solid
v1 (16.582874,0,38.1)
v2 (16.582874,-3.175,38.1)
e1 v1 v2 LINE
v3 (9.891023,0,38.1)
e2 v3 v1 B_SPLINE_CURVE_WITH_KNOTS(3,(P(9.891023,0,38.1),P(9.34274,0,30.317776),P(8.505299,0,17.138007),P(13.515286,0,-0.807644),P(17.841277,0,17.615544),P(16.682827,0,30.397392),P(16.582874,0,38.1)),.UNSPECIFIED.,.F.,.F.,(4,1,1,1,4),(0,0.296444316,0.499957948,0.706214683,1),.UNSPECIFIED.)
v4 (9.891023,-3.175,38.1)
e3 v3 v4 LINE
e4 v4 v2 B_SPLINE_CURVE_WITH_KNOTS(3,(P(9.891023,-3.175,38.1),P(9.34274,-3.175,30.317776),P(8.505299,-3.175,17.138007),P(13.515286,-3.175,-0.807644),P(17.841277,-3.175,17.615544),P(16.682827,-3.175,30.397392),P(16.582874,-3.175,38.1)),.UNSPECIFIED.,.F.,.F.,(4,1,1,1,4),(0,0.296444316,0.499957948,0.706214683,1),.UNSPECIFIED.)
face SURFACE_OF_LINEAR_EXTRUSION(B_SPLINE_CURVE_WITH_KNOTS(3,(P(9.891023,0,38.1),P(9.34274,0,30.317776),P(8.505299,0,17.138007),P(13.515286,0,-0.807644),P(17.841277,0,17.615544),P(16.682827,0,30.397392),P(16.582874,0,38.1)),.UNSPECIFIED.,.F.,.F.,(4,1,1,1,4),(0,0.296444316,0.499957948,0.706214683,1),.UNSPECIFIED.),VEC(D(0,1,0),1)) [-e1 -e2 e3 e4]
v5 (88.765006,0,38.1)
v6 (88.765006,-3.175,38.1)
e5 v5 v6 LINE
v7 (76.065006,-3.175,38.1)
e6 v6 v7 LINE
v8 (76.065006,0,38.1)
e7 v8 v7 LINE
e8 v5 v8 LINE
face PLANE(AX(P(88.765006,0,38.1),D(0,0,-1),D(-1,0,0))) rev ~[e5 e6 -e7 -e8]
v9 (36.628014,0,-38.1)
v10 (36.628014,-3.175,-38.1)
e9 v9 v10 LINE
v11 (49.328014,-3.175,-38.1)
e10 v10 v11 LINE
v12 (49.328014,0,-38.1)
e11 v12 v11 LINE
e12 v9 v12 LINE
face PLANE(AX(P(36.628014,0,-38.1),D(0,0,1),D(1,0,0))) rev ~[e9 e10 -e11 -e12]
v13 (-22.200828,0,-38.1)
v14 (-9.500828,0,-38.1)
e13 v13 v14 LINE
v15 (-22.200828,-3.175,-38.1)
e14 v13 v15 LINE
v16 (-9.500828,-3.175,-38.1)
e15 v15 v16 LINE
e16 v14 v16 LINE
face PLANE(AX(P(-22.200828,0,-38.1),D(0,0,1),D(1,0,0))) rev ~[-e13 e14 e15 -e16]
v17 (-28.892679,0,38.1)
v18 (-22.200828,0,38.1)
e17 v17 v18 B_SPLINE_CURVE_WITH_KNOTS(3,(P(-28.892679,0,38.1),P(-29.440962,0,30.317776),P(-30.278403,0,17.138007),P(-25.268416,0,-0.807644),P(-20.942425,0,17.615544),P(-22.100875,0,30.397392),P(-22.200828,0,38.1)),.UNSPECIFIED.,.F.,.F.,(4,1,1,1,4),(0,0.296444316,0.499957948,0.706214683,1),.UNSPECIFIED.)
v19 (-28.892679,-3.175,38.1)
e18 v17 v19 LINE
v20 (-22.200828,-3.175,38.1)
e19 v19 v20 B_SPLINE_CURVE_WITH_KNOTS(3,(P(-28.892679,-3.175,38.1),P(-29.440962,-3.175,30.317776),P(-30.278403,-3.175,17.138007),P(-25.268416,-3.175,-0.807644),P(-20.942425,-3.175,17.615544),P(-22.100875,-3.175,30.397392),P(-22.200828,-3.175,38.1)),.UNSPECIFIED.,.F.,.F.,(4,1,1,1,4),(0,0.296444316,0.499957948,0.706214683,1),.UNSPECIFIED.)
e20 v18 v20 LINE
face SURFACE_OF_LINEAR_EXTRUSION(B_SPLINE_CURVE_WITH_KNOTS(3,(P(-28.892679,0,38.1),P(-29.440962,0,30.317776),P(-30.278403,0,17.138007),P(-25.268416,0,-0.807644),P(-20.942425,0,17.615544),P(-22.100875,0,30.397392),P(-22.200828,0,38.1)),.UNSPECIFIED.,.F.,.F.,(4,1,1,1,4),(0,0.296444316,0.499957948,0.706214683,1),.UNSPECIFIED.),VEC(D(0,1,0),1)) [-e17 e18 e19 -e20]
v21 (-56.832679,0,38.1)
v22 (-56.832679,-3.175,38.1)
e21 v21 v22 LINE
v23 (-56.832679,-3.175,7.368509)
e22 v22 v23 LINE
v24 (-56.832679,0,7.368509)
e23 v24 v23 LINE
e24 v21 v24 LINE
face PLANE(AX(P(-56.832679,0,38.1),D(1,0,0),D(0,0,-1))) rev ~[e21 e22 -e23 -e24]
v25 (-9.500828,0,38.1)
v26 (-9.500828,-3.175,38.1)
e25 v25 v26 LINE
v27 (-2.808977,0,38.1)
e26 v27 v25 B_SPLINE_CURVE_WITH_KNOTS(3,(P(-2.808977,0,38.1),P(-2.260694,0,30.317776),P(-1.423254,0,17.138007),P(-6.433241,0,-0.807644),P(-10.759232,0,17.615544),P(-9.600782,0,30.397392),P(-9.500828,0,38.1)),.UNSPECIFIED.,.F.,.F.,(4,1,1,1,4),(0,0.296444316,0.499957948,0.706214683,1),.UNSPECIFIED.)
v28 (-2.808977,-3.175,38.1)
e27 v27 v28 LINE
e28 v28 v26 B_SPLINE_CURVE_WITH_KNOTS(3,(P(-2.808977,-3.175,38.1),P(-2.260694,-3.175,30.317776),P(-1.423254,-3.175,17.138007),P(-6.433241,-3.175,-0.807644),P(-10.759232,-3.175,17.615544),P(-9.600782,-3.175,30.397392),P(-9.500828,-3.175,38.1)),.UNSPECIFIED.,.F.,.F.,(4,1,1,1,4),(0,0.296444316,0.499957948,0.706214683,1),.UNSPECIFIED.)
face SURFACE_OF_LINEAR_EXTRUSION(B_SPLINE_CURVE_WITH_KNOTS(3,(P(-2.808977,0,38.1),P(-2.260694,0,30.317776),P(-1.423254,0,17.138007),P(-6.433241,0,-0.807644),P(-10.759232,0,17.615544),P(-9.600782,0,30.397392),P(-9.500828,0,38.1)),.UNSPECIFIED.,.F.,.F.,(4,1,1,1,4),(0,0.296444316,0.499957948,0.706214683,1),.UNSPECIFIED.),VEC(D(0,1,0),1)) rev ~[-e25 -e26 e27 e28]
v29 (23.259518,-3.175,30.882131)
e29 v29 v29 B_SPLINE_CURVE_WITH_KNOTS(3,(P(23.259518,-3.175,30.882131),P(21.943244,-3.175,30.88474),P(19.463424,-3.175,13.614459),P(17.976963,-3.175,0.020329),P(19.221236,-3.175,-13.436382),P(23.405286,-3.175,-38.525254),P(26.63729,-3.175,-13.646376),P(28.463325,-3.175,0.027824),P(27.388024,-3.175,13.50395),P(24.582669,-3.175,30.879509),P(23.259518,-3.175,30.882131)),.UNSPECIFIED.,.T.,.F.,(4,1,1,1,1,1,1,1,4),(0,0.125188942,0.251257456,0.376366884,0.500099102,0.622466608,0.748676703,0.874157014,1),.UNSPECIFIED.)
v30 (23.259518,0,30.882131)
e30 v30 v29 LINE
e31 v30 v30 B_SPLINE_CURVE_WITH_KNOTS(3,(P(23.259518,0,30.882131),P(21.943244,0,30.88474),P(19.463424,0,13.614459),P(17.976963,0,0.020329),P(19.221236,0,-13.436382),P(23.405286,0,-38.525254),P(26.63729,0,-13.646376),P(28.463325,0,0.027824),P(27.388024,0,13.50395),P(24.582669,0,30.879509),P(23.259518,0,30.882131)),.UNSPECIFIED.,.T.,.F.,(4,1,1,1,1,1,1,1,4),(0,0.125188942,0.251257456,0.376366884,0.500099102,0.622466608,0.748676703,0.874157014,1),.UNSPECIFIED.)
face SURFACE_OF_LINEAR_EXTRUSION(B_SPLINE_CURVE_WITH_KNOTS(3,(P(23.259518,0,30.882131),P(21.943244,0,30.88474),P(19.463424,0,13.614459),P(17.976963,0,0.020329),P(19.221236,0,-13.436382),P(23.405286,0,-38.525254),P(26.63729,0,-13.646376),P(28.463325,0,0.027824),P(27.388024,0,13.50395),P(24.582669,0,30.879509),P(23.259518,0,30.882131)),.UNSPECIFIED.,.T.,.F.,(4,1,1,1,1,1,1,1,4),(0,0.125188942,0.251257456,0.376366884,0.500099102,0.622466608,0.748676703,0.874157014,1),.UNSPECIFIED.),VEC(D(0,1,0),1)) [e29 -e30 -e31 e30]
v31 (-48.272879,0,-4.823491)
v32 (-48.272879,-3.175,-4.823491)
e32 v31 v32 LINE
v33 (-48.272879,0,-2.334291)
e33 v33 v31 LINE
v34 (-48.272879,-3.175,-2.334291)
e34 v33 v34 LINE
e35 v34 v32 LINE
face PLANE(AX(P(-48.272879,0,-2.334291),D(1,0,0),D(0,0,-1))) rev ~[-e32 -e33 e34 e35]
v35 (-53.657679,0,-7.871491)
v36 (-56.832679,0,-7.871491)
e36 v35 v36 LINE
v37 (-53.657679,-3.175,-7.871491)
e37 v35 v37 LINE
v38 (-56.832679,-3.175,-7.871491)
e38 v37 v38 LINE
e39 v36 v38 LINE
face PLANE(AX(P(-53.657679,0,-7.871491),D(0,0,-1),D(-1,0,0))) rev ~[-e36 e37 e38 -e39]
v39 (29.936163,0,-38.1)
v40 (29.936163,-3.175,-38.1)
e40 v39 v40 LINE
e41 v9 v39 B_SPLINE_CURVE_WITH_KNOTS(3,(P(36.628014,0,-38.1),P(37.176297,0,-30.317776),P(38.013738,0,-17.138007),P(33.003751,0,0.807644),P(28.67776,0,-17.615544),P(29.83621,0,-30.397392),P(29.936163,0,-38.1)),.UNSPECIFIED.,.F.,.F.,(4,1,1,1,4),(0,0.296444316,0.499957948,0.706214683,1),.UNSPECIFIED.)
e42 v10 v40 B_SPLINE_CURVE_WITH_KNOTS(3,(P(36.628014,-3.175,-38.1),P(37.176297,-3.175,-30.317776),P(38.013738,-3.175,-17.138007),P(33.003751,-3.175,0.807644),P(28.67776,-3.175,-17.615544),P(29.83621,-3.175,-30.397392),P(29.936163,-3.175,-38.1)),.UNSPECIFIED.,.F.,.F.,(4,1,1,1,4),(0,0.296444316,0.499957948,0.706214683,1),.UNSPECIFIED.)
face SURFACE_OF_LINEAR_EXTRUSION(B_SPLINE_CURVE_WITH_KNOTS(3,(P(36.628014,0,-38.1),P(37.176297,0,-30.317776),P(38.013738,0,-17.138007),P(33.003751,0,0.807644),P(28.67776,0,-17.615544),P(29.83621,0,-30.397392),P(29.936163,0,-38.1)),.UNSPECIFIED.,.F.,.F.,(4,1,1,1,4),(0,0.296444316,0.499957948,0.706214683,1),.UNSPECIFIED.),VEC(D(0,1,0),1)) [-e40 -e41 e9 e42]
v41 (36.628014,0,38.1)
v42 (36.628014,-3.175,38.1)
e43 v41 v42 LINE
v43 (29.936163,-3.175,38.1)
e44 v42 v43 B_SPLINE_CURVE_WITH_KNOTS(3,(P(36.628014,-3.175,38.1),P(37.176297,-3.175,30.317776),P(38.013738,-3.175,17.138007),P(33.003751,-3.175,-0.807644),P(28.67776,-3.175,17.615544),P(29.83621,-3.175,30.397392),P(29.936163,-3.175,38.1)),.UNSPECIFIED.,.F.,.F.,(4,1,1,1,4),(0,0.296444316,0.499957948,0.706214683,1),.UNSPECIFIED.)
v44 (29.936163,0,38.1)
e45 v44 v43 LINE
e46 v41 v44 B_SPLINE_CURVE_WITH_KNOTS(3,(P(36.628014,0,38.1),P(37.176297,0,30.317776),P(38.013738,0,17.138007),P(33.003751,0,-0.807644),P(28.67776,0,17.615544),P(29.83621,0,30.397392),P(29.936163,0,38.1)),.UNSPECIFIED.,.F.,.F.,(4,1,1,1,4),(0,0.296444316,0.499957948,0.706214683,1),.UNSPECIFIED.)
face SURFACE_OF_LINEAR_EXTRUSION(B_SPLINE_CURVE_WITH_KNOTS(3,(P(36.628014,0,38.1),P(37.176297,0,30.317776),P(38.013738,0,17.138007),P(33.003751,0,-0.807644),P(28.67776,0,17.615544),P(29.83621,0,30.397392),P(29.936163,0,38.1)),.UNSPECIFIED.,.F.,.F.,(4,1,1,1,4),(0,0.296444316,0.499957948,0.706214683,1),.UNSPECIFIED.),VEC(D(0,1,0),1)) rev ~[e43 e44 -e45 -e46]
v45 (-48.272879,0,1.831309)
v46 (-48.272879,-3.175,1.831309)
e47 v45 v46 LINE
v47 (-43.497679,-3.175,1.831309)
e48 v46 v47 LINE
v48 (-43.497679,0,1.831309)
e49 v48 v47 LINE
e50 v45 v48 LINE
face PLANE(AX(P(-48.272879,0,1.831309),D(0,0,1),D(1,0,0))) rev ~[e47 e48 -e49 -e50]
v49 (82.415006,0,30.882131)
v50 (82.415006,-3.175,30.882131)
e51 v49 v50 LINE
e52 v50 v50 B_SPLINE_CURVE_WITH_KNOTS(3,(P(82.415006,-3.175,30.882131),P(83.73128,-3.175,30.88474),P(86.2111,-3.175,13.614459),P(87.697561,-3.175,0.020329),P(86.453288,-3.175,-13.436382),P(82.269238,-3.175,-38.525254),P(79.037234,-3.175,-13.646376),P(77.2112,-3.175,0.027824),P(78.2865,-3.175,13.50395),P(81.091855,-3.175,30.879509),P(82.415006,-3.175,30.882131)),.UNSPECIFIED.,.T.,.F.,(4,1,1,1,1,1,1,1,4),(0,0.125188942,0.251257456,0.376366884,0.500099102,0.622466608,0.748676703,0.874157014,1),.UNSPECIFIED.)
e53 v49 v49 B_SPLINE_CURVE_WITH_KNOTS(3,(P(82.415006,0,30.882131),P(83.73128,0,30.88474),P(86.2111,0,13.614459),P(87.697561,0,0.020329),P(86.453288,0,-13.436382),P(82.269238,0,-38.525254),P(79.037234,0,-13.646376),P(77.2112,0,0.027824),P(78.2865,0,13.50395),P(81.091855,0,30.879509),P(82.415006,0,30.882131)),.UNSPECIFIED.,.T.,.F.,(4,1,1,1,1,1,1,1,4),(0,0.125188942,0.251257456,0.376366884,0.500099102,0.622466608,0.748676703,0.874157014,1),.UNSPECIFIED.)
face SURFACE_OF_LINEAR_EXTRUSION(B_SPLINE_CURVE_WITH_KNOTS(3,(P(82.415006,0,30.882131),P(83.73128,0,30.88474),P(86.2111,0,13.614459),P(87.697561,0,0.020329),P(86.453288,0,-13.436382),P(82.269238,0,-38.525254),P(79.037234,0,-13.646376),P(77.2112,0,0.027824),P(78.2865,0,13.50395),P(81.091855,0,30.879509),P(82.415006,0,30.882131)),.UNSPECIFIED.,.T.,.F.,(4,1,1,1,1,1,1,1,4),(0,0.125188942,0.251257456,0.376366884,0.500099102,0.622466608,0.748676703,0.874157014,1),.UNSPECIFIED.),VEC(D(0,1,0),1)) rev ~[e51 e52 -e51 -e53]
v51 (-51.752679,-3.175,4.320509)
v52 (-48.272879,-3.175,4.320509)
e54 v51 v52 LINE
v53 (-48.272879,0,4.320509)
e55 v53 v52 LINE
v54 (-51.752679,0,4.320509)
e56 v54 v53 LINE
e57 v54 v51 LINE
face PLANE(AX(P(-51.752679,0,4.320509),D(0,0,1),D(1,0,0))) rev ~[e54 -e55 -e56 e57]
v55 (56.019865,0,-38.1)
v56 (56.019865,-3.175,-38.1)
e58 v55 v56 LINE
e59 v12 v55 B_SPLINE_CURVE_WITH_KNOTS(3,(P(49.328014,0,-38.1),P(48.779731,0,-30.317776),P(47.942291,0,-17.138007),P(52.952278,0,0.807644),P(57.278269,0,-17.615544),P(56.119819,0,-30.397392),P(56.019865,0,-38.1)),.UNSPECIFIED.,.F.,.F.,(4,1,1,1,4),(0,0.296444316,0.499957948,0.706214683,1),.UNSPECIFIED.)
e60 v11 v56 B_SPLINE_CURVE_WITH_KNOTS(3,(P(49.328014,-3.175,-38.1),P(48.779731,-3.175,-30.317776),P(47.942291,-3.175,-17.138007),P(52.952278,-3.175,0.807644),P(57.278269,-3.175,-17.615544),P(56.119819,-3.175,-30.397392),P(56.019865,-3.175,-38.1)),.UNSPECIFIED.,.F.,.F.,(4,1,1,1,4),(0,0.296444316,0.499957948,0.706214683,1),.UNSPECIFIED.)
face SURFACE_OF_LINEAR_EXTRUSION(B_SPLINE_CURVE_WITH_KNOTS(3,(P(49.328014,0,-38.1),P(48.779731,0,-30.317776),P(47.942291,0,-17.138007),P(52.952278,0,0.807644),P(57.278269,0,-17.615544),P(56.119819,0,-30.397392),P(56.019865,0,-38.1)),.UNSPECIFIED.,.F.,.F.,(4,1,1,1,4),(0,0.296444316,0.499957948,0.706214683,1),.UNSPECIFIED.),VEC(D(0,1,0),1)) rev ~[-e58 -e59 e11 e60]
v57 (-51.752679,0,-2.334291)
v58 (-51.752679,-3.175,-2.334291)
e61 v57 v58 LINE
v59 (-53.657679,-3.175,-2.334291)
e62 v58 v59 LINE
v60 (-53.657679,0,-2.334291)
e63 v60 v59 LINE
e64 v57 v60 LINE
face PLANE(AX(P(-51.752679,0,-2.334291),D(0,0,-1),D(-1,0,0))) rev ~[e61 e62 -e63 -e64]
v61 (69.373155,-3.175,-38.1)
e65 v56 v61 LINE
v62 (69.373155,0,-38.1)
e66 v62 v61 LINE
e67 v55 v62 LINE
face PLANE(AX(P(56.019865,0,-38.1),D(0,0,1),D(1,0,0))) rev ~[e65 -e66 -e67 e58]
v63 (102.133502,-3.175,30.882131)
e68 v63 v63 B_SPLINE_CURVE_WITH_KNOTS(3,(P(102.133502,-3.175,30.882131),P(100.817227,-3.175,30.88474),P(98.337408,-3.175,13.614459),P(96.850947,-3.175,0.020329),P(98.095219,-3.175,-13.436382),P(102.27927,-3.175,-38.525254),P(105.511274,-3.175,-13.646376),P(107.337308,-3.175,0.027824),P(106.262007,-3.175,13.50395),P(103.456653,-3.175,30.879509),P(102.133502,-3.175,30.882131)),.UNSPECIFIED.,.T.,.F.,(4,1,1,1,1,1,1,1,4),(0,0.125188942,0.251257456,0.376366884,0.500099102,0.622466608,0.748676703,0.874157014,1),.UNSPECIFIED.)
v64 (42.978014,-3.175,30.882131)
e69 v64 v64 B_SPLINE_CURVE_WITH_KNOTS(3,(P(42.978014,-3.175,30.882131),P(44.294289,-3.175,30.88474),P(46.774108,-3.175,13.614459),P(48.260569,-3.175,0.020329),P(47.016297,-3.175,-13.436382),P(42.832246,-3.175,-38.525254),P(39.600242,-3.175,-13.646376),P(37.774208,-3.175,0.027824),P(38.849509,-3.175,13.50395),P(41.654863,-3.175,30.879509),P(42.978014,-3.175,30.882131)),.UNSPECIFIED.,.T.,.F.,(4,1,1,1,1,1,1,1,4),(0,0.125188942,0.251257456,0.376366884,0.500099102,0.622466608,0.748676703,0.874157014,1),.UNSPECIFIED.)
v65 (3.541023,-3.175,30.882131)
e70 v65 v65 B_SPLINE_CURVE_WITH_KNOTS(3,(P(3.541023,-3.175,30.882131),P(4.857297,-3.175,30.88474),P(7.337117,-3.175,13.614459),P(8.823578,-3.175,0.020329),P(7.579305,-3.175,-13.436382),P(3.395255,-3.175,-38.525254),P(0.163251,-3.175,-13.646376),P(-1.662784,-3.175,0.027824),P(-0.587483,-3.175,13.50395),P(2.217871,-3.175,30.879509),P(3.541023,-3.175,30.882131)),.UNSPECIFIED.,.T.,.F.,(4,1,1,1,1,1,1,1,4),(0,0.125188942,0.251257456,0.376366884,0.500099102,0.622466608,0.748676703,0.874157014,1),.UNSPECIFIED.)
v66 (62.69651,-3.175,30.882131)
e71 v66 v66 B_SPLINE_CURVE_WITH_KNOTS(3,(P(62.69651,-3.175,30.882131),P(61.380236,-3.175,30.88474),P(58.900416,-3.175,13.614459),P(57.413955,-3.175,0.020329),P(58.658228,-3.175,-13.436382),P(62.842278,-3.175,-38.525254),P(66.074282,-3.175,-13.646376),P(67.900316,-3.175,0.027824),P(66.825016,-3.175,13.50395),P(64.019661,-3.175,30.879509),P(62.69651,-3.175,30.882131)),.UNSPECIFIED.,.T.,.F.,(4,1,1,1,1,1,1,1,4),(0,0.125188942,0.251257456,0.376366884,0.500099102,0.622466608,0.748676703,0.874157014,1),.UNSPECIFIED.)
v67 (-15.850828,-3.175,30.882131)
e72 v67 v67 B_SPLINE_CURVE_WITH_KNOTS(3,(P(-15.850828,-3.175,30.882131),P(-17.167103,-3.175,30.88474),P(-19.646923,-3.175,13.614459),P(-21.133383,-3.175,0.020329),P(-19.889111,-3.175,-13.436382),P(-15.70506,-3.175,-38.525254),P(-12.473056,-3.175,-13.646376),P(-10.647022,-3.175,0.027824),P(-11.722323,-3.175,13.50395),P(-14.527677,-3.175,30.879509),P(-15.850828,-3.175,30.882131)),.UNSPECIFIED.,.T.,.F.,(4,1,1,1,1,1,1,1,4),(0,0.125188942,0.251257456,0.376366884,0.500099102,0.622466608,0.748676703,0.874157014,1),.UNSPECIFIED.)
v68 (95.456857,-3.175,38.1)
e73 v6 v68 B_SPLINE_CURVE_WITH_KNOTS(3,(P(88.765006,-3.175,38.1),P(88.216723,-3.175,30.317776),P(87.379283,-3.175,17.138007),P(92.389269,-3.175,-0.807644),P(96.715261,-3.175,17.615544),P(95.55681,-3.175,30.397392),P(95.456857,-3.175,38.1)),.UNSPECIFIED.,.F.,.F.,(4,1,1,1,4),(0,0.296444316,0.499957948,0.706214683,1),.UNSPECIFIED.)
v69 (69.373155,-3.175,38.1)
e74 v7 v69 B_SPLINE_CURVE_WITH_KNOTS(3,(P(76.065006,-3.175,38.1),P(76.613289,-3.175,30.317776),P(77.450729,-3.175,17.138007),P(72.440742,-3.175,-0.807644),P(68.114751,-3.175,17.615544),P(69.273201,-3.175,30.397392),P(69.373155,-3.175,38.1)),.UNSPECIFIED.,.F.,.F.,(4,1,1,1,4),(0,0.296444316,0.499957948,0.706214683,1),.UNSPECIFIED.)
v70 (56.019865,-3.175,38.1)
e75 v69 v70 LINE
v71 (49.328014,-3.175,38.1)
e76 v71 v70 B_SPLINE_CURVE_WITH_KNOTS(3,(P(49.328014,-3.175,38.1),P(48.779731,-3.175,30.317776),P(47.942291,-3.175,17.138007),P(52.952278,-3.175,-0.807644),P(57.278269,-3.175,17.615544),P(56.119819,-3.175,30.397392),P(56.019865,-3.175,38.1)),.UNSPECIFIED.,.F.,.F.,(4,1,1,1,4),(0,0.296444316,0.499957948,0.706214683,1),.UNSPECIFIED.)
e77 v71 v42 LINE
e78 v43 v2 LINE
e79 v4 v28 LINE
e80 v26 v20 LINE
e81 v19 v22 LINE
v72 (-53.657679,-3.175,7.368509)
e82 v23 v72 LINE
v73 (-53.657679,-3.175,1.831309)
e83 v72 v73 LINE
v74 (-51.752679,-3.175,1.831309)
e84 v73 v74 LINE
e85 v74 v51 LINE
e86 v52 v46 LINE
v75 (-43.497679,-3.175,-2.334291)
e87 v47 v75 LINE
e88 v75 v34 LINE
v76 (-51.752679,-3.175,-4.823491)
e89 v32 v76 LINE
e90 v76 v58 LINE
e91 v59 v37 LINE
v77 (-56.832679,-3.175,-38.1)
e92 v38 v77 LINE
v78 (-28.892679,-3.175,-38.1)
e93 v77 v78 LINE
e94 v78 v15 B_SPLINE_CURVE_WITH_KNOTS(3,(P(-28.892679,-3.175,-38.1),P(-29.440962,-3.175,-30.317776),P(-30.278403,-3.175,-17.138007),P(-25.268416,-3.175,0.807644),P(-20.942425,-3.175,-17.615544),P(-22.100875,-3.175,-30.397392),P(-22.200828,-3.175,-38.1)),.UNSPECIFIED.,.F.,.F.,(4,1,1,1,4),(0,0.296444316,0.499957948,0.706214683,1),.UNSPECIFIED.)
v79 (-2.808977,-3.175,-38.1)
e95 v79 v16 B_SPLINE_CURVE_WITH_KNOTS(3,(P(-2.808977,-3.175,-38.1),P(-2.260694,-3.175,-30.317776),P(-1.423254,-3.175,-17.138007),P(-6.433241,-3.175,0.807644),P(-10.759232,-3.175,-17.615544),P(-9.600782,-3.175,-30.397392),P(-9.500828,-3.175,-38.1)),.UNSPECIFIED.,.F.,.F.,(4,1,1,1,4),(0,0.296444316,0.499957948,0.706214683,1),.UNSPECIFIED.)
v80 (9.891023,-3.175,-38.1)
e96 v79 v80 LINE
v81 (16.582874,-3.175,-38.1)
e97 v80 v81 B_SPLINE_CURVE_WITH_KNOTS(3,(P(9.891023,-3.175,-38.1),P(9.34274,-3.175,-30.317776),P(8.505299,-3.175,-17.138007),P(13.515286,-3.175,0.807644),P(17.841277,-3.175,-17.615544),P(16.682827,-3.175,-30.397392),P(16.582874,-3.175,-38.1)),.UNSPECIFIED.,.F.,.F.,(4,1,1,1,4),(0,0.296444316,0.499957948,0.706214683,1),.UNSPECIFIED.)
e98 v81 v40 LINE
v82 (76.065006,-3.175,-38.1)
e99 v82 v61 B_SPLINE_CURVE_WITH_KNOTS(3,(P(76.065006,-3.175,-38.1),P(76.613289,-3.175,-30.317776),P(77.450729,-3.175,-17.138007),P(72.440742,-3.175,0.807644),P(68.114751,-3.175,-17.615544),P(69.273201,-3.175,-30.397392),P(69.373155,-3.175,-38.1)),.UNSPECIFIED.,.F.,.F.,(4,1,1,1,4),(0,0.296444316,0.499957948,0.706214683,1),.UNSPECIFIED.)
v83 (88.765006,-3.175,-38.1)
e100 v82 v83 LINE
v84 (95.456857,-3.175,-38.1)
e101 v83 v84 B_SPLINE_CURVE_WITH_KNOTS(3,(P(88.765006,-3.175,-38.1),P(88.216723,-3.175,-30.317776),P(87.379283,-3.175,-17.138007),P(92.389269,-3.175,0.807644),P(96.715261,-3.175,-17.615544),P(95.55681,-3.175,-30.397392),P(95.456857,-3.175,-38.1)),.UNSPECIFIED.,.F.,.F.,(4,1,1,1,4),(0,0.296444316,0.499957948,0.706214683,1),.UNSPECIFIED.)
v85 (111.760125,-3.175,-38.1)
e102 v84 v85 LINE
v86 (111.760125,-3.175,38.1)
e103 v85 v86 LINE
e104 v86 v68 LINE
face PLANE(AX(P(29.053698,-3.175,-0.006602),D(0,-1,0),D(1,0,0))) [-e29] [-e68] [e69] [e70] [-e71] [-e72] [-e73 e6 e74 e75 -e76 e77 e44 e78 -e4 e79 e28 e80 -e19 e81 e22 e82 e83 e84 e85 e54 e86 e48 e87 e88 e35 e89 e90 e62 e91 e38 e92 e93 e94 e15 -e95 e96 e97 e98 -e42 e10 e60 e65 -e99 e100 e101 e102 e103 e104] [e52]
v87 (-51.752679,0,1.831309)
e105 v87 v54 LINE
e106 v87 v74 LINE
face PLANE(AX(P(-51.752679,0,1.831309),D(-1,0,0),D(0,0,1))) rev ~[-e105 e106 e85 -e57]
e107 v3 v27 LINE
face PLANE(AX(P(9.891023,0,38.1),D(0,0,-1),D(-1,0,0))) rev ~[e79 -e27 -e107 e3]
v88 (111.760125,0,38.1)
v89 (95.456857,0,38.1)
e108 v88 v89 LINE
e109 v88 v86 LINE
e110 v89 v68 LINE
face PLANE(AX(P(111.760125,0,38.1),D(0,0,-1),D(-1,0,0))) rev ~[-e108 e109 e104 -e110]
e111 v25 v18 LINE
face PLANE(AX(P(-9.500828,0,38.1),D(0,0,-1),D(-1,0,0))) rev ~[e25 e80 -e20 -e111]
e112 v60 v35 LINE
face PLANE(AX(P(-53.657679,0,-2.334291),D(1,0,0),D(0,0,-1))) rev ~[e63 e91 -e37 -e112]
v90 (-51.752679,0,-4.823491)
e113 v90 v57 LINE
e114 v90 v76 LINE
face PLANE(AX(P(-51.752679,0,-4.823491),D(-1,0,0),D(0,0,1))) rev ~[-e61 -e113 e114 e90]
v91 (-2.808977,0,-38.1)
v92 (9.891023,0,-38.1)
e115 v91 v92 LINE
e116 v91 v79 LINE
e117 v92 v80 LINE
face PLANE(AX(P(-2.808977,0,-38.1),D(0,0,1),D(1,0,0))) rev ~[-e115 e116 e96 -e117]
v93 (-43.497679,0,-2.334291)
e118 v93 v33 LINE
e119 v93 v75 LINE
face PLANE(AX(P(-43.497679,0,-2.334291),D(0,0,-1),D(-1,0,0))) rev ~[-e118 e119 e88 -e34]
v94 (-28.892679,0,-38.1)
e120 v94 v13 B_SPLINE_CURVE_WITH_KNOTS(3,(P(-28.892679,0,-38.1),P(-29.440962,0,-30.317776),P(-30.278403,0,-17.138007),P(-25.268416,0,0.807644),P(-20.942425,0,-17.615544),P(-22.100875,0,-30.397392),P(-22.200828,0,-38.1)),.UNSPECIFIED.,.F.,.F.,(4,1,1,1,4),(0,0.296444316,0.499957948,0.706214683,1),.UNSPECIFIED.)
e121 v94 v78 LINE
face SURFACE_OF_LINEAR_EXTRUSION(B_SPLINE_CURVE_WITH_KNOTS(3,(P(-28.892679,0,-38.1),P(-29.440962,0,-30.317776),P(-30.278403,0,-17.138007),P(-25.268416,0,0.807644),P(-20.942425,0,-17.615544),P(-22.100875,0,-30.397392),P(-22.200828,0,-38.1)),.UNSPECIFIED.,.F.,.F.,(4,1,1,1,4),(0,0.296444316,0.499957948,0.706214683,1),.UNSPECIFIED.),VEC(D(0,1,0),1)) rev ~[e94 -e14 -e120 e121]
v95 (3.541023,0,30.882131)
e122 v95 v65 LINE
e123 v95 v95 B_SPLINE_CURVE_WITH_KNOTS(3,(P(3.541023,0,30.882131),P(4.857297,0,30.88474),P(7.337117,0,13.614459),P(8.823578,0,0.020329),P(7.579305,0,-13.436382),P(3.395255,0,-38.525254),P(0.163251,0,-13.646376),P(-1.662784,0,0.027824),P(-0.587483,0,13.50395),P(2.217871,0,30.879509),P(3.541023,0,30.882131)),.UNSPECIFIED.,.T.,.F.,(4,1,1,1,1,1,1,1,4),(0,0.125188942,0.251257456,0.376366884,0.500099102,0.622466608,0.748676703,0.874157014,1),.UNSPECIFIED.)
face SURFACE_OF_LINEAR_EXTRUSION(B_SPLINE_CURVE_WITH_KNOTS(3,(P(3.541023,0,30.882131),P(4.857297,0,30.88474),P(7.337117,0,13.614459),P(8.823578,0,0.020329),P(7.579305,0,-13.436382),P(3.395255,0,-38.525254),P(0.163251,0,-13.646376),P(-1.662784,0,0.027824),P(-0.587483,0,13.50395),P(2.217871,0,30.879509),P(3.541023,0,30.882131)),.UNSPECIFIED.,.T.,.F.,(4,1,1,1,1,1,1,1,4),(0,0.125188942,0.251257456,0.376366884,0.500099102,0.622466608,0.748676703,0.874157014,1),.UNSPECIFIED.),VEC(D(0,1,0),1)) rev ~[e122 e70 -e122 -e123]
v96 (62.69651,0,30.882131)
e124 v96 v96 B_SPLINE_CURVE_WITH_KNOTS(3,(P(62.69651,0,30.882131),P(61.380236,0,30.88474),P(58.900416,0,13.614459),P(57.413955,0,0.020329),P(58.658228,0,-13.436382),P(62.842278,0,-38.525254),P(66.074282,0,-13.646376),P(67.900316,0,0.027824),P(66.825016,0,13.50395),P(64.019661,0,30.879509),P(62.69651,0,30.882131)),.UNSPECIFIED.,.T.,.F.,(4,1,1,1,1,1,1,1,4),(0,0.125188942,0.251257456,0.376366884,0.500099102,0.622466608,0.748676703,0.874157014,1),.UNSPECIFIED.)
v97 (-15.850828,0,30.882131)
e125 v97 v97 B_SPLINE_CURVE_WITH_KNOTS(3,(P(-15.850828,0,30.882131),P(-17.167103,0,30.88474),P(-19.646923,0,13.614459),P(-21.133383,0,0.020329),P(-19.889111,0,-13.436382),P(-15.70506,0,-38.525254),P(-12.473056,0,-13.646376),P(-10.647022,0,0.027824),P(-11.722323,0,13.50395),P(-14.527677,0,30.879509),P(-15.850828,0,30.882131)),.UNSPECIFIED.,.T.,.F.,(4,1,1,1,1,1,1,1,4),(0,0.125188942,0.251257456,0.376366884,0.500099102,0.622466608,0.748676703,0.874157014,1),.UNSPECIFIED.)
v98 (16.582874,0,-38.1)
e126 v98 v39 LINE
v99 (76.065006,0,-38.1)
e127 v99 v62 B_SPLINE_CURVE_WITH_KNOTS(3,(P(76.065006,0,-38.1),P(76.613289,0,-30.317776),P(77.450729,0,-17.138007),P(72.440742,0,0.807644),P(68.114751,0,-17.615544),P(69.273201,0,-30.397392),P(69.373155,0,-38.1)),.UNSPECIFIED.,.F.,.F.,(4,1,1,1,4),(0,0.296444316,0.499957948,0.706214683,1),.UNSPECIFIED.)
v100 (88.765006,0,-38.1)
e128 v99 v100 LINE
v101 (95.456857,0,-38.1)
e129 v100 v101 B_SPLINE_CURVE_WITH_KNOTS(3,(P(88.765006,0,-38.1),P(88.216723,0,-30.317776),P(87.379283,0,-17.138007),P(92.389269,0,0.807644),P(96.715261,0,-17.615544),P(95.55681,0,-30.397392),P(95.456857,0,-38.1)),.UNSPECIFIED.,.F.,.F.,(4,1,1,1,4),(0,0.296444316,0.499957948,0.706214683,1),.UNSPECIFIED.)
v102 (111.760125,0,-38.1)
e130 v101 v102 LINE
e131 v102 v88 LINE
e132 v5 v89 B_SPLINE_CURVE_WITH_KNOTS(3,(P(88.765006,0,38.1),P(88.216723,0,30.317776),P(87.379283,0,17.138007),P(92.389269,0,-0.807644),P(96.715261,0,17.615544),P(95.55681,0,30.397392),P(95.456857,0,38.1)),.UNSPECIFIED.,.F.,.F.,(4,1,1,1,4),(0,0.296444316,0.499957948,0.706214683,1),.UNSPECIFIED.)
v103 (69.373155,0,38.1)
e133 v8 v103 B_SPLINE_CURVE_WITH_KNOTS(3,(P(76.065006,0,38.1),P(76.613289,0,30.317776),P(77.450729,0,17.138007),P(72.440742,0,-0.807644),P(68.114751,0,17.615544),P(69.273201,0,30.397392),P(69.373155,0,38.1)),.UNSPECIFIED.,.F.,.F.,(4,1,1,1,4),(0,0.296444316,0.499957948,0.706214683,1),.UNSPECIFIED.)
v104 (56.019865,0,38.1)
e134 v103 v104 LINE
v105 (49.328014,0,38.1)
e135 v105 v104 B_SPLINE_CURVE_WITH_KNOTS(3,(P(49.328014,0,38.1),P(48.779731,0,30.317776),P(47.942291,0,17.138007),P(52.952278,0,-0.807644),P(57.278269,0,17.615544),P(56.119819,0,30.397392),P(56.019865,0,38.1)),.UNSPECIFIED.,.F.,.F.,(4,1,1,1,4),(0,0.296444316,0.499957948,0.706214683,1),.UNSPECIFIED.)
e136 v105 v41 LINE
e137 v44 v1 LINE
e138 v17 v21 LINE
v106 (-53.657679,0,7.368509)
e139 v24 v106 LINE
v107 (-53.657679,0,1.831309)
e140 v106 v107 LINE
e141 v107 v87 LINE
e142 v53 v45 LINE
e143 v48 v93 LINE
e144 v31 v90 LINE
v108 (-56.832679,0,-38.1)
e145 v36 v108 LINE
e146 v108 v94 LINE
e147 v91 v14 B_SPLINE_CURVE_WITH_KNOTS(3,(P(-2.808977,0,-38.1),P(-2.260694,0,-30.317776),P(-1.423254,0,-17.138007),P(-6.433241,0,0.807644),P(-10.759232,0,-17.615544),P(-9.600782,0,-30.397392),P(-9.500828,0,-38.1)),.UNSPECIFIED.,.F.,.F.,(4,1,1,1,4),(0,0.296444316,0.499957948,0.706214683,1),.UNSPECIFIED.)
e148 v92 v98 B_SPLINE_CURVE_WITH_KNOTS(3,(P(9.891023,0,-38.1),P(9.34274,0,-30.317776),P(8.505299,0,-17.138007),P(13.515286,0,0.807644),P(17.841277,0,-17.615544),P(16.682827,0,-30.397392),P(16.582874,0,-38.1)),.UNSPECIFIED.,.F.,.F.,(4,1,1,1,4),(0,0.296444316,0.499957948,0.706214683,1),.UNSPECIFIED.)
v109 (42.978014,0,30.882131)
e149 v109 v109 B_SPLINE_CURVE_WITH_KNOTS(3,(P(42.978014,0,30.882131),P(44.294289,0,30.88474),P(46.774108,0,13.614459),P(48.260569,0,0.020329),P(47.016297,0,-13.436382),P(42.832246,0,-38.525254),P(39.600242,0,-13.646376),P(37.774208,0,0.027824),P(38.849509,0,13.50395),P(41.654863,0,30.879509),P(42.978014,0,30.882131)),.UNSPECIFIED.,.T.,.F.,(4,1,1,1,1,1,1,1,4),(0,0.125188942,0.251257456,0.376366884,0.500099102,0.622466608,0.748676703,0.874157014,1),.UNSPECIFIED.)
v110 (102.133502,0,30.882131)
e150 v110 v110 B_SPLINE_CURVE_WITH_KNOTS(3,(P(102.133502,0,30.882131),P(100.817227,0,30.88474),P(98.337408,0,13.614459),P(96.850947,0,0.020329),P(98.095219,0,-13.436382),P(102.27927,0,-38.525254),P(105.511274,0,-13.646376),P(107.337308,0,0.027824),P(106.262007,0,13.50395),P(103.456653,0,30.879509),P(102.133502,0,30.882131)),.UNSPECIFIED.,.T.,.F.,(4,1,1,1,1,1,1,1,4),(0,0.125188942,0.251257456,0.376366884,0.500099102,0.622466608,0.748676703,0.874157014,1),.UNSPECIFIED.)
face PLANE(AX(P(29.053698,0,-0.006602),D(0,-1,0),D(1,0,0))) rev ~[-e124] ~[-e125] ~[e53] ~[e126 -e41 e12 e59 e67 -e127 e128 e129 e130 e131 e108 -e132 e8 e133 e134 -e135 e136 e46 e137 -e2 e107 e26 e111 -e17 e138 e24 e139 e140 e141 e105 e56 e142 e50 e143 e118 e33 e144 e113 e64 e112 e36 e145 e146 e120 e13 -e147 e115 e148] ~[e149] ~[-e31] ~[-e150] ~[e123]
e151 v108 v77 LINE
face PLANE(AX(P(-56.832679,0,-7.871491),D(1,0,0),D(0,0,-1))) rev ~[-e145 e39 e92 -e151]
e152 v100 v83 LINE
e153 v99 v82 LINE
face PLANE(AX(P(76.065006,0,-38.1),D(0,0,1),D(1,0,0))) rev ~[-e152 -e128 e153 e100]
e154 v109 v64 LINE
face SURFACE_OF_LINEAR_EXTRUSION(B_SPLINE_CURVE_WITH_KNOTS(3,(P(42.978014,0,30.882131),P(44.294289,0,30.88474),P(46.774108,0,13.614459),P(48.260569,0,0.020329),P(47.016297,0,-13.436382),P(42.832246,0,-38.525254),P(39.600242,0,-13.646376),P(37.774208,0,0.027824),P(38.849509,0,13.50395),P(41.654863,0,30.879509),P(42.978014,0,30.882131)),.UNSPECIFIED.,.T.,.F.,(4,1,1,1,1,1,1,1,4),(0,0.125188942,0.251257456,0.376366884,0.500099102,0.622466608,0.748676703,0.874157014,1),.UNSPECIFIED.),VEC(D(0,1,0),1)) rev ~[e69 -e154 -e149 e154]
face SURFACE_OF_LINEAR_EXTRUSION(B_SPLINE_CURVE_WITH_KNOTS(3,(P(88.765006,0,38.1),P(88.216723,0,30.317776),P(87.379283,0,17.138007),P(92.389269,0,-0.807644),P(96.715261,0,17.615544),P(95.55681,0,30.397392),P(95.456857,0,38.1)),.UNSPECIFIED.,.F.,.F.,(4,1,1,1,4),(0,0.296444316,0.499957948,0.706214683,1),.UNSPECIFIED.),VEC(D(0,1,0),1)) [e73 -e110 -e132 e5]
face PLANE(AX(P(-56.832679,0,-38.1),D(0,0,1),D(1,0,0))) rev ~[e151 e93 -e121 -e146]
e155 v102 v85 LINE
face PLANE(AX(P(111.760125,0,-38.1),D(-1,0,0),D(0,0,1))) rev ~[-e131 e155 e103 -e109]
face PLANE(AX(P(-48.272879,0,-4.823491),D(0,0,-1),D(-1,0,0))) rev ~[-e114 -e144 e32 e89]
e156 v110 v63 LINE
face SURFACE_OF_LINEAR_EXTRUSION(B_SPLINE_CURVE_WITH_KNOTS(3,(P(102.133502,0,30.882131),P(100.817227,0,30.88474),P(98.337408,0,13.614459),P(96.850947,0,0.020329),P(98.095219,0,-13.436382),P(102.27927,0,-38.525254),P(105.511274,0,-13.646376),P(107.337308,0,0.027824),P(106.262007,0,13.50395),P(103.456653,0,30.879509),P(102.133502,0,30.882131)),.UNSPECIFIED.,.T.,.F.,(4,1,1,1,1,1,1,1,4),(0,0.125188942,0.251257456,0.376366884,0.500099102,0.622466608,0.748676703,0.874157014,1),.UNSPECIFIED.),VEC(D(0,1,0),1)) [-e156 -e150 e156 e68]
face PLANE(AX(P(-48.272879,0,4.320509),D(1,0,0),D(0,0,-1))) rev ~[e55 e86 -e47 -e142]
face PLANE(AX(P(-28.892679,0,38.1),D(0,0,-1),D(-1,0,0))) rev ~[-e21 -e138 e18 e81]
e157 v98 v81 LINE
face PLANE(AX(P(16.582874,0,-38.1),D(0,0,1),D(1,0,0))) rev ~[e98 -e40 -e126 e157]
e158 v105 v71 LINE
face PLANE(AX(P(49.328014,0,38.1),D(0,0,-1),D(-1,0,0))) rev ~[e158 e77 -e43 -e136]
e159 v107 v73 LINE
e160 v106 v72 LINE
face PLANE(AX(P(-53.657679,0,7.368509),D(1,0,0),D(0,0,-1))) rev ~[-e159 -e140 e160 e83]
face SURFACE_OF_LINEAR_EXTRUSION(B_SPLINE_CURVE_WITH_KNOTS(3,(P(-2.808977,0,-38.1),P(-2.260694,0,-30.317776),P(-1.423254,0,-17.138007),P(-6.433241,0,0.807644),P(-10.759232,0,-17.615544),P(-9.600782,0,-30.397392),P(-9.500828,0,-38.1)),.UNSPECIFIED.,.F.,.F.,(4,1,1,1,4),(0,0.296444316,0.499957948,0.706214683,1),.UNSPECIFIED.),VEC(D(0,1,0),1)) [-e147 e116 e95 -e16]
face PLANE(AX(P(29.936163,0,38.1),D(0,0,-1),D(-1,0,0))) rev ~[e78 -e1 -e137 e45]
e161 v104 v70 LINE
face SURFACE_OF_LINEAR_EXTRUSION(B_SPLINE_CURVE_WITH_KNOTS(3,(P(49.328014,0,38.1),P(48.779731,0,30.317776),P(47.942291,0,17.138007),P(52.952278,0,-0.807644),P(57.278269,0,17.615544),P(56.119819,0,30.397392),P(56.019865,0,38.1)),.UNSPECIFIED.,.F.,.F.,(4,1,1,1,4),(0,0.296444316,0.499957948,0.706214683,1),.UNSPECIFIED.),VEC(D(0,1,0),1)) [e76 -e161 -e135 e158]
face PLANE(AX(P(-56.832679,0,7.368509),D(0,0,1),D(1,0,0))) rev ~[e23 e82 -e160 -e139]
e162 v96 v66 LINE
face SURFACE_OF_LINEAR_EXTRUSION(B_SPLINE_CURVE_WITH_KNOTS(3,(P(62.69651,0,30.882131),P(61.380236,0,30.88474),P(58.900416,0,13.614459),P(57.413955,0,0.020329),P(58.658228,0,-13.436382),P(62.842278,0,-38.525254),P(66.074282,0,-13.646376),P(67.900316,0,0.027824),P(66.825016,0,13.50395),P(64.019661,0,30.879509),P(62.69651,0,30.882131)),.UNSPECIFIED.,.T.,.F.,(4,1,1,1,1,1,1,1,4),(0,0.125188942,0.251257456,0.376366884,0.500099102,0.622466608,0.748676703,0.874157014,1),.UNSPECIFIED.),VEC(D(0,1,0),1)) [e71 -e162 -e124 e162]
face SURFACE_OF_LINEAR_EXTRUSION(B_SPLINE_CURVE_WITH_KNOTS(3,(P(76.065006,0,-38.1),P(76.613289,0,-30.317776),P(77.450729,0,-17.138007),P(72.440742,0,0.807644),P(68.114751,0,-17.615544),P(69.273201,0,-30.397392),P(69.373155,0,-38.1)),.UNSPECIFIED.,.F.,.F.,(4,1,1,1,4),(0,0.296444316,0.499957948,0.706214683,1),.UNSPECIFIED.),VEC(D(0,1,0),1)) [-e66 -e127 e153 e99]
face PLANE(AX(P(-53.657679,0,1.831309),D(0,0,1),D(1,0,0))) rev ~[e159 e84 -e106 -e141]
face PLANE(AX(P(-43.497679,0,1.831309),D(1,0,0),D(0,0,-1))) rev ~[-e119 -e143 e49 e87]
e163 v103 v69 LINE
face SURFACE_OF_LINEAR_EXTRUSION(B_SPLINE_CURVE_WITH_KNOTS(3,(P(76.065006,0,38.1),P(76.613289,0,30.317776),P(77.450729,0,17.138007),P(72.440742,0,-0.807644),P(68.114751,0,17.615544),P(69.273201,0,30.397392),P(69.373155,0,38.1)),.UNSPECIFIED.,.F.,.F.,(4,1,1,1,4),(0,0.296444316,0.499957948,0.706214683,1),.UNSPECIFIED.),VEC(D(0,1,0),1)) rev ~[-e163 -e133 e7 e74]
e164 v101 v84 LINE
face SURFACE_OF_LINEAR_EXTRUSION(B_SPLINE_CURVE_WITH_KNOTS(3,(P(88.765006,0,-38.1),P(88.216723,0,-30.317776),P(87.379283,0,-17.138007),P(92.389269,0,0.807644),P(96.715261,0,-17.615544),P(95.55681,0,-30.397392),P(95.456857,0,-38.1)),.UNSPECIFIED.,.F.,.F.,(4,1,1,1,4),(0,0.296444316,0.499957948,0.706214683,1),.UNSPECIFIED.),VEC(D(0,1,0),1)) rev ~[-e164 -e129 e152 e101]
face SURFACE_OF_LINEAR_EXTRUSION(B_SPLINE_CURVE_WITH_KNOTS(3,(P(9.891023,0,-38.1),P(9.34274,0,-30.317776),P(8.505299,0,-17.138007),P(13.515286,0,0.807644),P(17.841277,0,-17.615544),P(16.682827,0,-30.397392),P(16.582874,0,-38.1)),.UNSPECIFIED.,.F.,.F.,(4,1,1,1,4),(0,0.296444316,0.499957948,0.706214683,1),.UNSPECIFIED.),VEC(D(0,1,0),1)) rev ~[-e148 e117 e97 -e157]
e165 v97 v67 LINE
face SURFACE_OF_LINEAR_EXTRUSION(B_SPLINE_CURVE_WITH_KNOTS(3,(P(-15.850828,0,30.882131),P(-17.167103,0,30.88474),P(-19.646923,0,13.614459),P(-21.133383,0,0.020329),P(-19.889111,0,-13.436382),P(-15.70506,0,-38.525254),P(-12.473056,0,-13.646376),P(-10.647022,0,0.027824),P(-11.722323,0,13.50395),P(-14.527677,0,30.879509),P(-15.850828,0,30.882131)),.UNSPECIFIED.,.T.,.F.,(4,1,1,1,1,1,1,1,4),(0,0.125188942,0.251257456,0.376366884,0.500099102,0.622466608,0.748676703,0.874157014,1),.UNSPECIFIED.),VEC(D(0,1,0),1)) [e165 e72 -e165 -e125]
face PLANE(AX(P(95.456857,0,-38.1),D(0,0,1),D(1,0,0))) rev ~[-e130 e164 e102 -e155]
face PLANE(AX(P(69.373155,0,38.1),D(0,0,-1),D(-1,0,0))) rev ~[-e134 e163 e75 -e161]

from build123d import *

# Parameters (mm, degrees)
F1_DEPTH = 3.175


with BuildPart() as f1:
    # F0 (on Front) → F1 (new body)
    with BuildSketch(Plane.XZ):
        with BuildLine():
            Line((-56.8326793868, 38.1), (-56.8326793868, 7.3685093322))
            Line((-56.8326793868, 7.3685093322), (-53.6576793868, 7.3685093322))
            Line((-53.6576793868, 7.3685093322), (-53.6576793868, 1.8313093322))
            Line((-53.6576793868, 1.8313093322), (-51.7526793868, 1.8313093322))
            Line((-51.7526793868, 1.8313093322), (-51.7526793868, 4.3205093322))
            Line((-51.7526793868, 4.3205093322), (-48.2728793868, 4.3205093322))
            Line((-48.2728793868, 4.3205093322), (-48.2728793868, 1.8313093322))
            Line((-48.2728793868, 1.8313093322), (-43.4976793868, 1.8313093322))
            Line((-43.4976793868, 1.8313093322), (-43.4976793868, -2.3342906678))
            Line((-43.4976793868, -2.3342906678), (-48.2728793868, -2.3342906678))
            Line((-48.2728793868, -2.3342906678), (-48.2728793868, -4.8234906678))
            Line((-48.2728793868, -4.8234906678), (-51.7526793868, -4.8234906678))
            Line((-51.7526793868, -4.8234906678), (-51.7526793868, -2.3342906678))
            Line((-51.7526793868, -2.3342906678), (-53.6576793868, -2.3342906678))
            Line((-53.6576793868, -2.3342906678), (-53.6576793868, -7.8714906678))
            Line((-53.6576793868, -7.8714906678), (-56.8326793868, -7.8714906678))
            Line((-56.8326793868, -7.8714906678), (-56.8326793868, -38.1))
            Line((-56.8326793868, -38.1), (-28.8926793868, -38.1))
            add(Edge.make_bspline(
                [(-28.8926793868, -38.1), (-29.4409623671, -30.3177760394), (-30.2784027516, -17.1380071506), (-25.2684159269, 0.8076443543), (-20.9424247232, -17.6155444926), (-22.1008748879, -30.3973916831), (-22.2008284181, -38.1)],
                knots=[0, 0, 0, 0, 0.2964443158, 0.4999579478, 0.7062146833, 1, 1, 1, 1], degree=3))
            Line((-22.2008284181, -38.1), (-9.5008284181, -38.1))
            add(Edge.make_bspline(
                [(-2.8089774495, -38.1), (-2.2606944692, -30.3177760394), (-1.4232540846, -17.1380071506), (-6.4332409094, 0.8076443543), (-10.7592321131, -17.6155444926), (-9.6007819483, -30.3973916831), (-9.5008284181, -38.1)],
                knots=[0, 0, 0, 0, 0.2964443158, 0.4999579478, 0.7062146833, 1, 1, 1, 1], degree=3))
            Line((-2.8089774495, -38.1), (9.8910225505, -38.1))
            add(Edge.make_bspline(
                [(9.8910225505, -38.1), (9.3427395702, -30.3177760394), (8.5052991857, -17.1380071506), (13.5152860105, 0.8076443543), (17.8412772141, -17.6155444926), (16.6828270494, -30.3973916831), (16.5828735192, -38.1)],
                knots=[0, 0, 0, 0, 0.2964443158, 0.4999579478, 0.7062146833, 1, 1, 1, 1], degree=3))
            Line((16.5828735192, -38.1), (29.9361632713, -38.1))
            add(Edge.make_bspline(
                [(36.62801424, -38.1), (37.1762972203, -30.3177760394), (38.0137376048, -17.1380071506), (33.00375078, 0.8076443543), (28.6777595764, -17.6155444926), (29.8362097411, -30.3973916831), (29.9361632713, -38.1)],
                knots=[0, 0, 0, 0, 0.2964443158, 0.4999579478, 0.7062146833, 1, 1, 1, 1], degree=3))
            Line((36.62801424, -38.1), (49.32801424, -38.1))
            add(Edge.make_bspline(
                [(49.32801424, -38.1), (48.7797312597, -30.3177760394), (47.9422908751, -17.1380071506), (52.9522776999, 0.8076443543), (57.2782689036, -17.6155444926), (56.1198187388, -30.3973916831), (56.0198652086, -38.1)],
                knots=[0, 0, 0, 0, 0.2964443158, 0.4999579478, 0.7062146833, 1, 1, 1, 1], degree=3))
            Line((56.0198652086, -38.1), (69.3731549608, -38.1))
            add(Edge.make_bspline(
                [(76.0650059294, -38.1), (76.6132889097, -30.3177760394), (77.4507292943, -17.1380071506), (72.4407424695, 0.8076443543), (68.1147512658, -17.6155444926), (69.2732014306, -30.3973916831), (69.3731549608, -38.1)],
                knots=[0, 0, 0, 0, 0.2964443158, 0.4999579478, 0.7062146833, 1, 1, 1, 1], degree=3))
            Line((76.0650059294, -38.1), (88.7650059294, -38.1))
            add(Edge.make_bspline(
                [(88.7650059294, -38.1), (88.2167229491, -30.3177760394), (87.3792825646, -17.1380071506), (92.3892693894, 0.8076443543), (96.715260593, -17.6155444926), (95.5568104283, -30.3973916831), (95.4568568981, -38.1)],
                knots=[0, 0, 0, 0, 0.2964443158, 0.4999579478, 0.7062146833, 1, 1, 1, 1], degree=3))
            Line((95.4568568981, -38.1), (111.7601245642, -38.1))
            Line((111.7601245642, -38.1), (111.7601245642, 38.1))
            Line((111.7601245642, 38.1), (95.4568568981, 38.1))
            add(Edge.make_bspline(
                [(88.7650059294, 38.1), (88.2167229491, 30.3177760394), (87.3792825646, 17.1380071506), (92.3892693894, -0.8076443543), (96.715260593, 17.6155444926), (95.5568104283, 30.3973916831), (95.4568568981, 38.1)],
                knots=[0, 0, 0, 0, 0.2964443158, 0.4999579478, 0.7062146833, 1, 1, 1, 1], degree=3))
            Line((88.7650059294, 38.1), (76.0650059294, 38.1))
            add(Edge.make_bspline(
                [(76.0650059294, 38.1), (76.6132889097, 30.3177760394), (77.4507292943, 17.1380071506), (72.4407424695, -0.8076443543), (68.1147512658, 17.6155444926), (69.2732014306, 30.3973916831), (69.3731549608, 38.1)],
                knots=[0, 0, 0, 0, 0.2964443158, 0.4999579478, 0.7062146833, 1, 1, 1, 1], degree=3))
            Line((69.3731549608, 38.1), (56.0198652086, 38.1))
            add(Edge.make_bspline(
                [(49.32801424, 38.1), (48.7797312597, 30.3177760394), (47.9422908751, 17.1380071506), (52.9522776999, -0.8076443543), (57.2782689036, 17.6155444926), (56.1198187388, 30.3973916831), (56.0198652086, 38.1)],
                knots=[0, 0, 0, 0, 0.2964443158, 0.4999579478, 0.7062146833, 1, 1, 1, 1], degree=3))
            Line((49.32801424, 38.1), (36.62801424, 38.1))
            add(Edge.make_bspline(
                [(36.62801424, 38.1), (37.1762972203, 30.3177760394), (38.0137376048, 17.1380071506), (33.00375078, -0.8076443543), (28.6777595764, 17.6155444926), (29.8362097411, 30.3973916831), (29.9361632713, 38.1)],
                knots=[0, 0, 0, 0, 0.2964443158, 0.4999579478, 0.7062146833, 1, 1, 1, 1], degree=3))
            Line((29.9361632713, 38.1), (16.5828735192, 38.1))
            add(Edge.make_bspline(
                [(9.8910225505, 38.1), (9.3427395702, 30.3177760394), (8.5052991857, 17.1380071506), (13.5152860105, -0.8076443543), (17.8412772141, 17.6155444926), (16.6828270494, 30.3973916831), (16.5828735192, 38.1)],
                knots=[0, 0, 0, 0, 0.2964443158, 0.4999579478, 0.7062146833, 1, 1, 1, 1], degree=3))
            Line((9.8910225505, 38.1), (-2.8089774495, 38.1))
            add(Edge.make_bspline(
                [(-2.8089774495, 38.1), (-2.2606944692, 30.3177760394), (-1.4232540846, 17.1380071506), (-6.4332409094, -0.8076443543), (-10.7592321131, 17.6155444926), (-9.6007819483, 30.3973916831), (-9.5008284181, 38.1)],
                knots=[0, 0, 0, 0, 0.2964443158, 0.4999579478, 0.7062146833, 1, 1, 1, 1], degree=3))
            Line((-9.5008284181, 38.1), (-22.2008284181, 38.1))
            add(Edge.make_bspline(
                [(-28.8926793868, 38.1), (-29.4409623671, 30.3177760394), (-30.2784027516, 17.1380071506), (-25.2684159269, -0.8076443543), (-20.9424247232, 17.6155444926), (-22.1008748879, 30.3973916831), (-22.2008284181, 38.1)],
                knots=[0, 0, 0, 0, 0.2964443158, 0.4999579478, 0.7062146833, 1, 1, 1, 1], degree=3))
            Line((-28.8926793868, 38.1), (-56.8326793868, 38.1))
        make_face()
        with BuildLine():
            add(Edge.make_bspline(
                [(-15.8508284181, 30.8821313083), (-17.1671027118, 30.8847399022), (-19.6469226233, 13.6144591614), (-21.1333834993, 0.0203290878), (-19.8891108455, -13.4363823297), (-15.7050604749, -38.5252537745), (-12.4730564477, -13.6463755509), (-10.6470220782, 0.0278241908), (-11.7223227116, 13.5039502384), (-14.5276773152, 30.8795090859), (-15.8508284181, 30.8821313083)],
                knots=[0, 0, 0, 0, 0.1251889422, 0.2512574559, 0.3763668843, 0.5000991021, 0.6224666075, 0.7486767031, 0.8741570144, 1, 1, 1, 1], degree=3))
        make_face(mode=Mode.SUBTRACT)
        with BuildLine():
            add(Edge.make_bspline(
                [(3.5410225505, 30.8821313083), (4.8572968441, 30.8847399022), (7.3371167557, 13.6144591614), (8.8235776317, 0.0203290878), (7.5793049778, -13.4363823297), (3.3952546073, -38.5252537745), (0.1632505801, -13.6463755509), (-1.6627837894, 0.0278241908), (-0.587483156, 13.5039502384), (2.2178714475, 30.8795090859), (3.5410225505, 30.8821313083)],
                knots=[0, 0, 0, 0, 0.1251889422, 0.2512574559, 0.3763668843, 0.5000991021, 0.6224666075, 0.7486767031, 0.8741570144, 1, 1, 1, 1], degree=3))
        make_face(mode=Mode.SUBTRACT)
        with BuildLine():
            add(Edge.make_bspline(
                [(23.2595183953, 30.8821313083), (21.9432441016, 30.8847399022), (19.46342419, 13.6144591614), (17.9769633141, 0.0203290878), (19.2212359679, -13.4363823297), (23.4052863384, -38.5252537745), (26.6372903657, -13.6463755509), (28.4633247352, 0.0278241908), (27.3880241017, 13.5039502384), (24.5826694982, 30.8795090859), (23.2595183953, 30.8821313083)],
                knots=[0, 0, 0, 0, 0.1251889422, 0.2512574559, 0.3763668843, 0.5000991021, 0.6224666075, 0.7486767031, 0.8741570144, 1, 1, 1, 1], degree=3))
        make_face(mode=Mode.SUBTRACT)
        with BuildLine():
            add(Edge.make_bspline(
                [(42.97801424, 30.8821313083), (44.2942885336, 30.8847399022), (46.7741084452, 13.6144591614), (48.2605693212, 0.0203290878), (47.0162966673, -13.4363823297), (42.8322462968, -38.5252537745), (39.6002422696, -13.6463755509), (37.7742079, 0.0278241908), (38.8495085335, 13.5039502384), (41.654863137, 30.8795090859), (42.97801424, 30.8821313083)],
                knots=[0, 0, 0, 0, 0.1251889422, 0.2512574559, 0.3763668843, 0.5000991021, 0.6224666075, 0.7486767031, 0.8741570144, 1, 1, 1, 1], degree=3))
        make_face(mode=Mode.SUBTRACT)
        with BuildLine():
            add(Edge.make_bspline(
                [(62.6965100847, 30.8821313083), (61.3802357911, 30.8847399022), (58.9004158795, 13.6144591614), (57.4139550035, 0.0203290878), (58.6582276574, -13.4363823297), (62.8422780279, -38.5252537745), (66.0742820551, -13.6463755509), (67.9003164246, 0.0278241908), (66.8250157912, 13.5039502384), (64.0196611877, 30.8795090859), (62.6965100847, 30.8821313083)],
                knots=[0, 0, 0, 0, 0.1251889422, 0.2512574559, 0.3763668843, 0.5000991021, 0.6224666075, 0.7486767031, 0.8741570144, 1, 1, 1, 1], degree=3))
        make_face(mode=Mode.SUBTRACT)
        with BuildLine():
            add(Edge.make_bspline(
                [(82.4150059294, 30.8821313083), (83.7312802231, 30.8847399022), (86.2111001346, 13.6144591614), (87.6975610106, 0.0203290878), (86.4532883567, -13.4363823297), (82.2692379862, -38.5252537745), (79.037233959, -13.6463755509), (77.2111995895, 0.0278241908), (78.2865002229, 13.5039502384), (81.0918548264, 30.8795090859), (82.4150059294, 30.8821313083)],
                knots=[0, 0, 0, 0, 0.1251889422, 0.2512574559, 0.3763668843, 0.5000991021, 0.6224666075, 0.7486767031, 0.8741570144, 1, 1, 1, 1], degree=3))
        make_face(mode=Mode.SUBTRACT)
        with BuildLine():
            add(Edge.make_bspline(
                [(102.1335017742, 30.8821313083), (100.8172274805, 30.8847399022), (98.337407569, 13.6144591614), (96.850946693, 0.0203290878), (98.0952193468, -13.4363823297), (102.2792697173, -38.5252537745), (105.5112737446, -13.6463755509), (107.3373081141, 0.0278241908), (106.2620074806, 13.5039502384), (103.4566528771, 30.8795090859), (102.1335017742, 30.8821313083)],
                knots=[0, 0, 0, 0, 0.1251889422, 0.2512574559, 0.3763668843, 0.5000991021, 0.6224666075, 0.7486767031, 0.8741570144, 1, 1, 1, 1], degree=3))
        make_face(mode=Mode.SUBTRACT)
    extrude(amount=F1_DEPTH)


solid = f1.part
